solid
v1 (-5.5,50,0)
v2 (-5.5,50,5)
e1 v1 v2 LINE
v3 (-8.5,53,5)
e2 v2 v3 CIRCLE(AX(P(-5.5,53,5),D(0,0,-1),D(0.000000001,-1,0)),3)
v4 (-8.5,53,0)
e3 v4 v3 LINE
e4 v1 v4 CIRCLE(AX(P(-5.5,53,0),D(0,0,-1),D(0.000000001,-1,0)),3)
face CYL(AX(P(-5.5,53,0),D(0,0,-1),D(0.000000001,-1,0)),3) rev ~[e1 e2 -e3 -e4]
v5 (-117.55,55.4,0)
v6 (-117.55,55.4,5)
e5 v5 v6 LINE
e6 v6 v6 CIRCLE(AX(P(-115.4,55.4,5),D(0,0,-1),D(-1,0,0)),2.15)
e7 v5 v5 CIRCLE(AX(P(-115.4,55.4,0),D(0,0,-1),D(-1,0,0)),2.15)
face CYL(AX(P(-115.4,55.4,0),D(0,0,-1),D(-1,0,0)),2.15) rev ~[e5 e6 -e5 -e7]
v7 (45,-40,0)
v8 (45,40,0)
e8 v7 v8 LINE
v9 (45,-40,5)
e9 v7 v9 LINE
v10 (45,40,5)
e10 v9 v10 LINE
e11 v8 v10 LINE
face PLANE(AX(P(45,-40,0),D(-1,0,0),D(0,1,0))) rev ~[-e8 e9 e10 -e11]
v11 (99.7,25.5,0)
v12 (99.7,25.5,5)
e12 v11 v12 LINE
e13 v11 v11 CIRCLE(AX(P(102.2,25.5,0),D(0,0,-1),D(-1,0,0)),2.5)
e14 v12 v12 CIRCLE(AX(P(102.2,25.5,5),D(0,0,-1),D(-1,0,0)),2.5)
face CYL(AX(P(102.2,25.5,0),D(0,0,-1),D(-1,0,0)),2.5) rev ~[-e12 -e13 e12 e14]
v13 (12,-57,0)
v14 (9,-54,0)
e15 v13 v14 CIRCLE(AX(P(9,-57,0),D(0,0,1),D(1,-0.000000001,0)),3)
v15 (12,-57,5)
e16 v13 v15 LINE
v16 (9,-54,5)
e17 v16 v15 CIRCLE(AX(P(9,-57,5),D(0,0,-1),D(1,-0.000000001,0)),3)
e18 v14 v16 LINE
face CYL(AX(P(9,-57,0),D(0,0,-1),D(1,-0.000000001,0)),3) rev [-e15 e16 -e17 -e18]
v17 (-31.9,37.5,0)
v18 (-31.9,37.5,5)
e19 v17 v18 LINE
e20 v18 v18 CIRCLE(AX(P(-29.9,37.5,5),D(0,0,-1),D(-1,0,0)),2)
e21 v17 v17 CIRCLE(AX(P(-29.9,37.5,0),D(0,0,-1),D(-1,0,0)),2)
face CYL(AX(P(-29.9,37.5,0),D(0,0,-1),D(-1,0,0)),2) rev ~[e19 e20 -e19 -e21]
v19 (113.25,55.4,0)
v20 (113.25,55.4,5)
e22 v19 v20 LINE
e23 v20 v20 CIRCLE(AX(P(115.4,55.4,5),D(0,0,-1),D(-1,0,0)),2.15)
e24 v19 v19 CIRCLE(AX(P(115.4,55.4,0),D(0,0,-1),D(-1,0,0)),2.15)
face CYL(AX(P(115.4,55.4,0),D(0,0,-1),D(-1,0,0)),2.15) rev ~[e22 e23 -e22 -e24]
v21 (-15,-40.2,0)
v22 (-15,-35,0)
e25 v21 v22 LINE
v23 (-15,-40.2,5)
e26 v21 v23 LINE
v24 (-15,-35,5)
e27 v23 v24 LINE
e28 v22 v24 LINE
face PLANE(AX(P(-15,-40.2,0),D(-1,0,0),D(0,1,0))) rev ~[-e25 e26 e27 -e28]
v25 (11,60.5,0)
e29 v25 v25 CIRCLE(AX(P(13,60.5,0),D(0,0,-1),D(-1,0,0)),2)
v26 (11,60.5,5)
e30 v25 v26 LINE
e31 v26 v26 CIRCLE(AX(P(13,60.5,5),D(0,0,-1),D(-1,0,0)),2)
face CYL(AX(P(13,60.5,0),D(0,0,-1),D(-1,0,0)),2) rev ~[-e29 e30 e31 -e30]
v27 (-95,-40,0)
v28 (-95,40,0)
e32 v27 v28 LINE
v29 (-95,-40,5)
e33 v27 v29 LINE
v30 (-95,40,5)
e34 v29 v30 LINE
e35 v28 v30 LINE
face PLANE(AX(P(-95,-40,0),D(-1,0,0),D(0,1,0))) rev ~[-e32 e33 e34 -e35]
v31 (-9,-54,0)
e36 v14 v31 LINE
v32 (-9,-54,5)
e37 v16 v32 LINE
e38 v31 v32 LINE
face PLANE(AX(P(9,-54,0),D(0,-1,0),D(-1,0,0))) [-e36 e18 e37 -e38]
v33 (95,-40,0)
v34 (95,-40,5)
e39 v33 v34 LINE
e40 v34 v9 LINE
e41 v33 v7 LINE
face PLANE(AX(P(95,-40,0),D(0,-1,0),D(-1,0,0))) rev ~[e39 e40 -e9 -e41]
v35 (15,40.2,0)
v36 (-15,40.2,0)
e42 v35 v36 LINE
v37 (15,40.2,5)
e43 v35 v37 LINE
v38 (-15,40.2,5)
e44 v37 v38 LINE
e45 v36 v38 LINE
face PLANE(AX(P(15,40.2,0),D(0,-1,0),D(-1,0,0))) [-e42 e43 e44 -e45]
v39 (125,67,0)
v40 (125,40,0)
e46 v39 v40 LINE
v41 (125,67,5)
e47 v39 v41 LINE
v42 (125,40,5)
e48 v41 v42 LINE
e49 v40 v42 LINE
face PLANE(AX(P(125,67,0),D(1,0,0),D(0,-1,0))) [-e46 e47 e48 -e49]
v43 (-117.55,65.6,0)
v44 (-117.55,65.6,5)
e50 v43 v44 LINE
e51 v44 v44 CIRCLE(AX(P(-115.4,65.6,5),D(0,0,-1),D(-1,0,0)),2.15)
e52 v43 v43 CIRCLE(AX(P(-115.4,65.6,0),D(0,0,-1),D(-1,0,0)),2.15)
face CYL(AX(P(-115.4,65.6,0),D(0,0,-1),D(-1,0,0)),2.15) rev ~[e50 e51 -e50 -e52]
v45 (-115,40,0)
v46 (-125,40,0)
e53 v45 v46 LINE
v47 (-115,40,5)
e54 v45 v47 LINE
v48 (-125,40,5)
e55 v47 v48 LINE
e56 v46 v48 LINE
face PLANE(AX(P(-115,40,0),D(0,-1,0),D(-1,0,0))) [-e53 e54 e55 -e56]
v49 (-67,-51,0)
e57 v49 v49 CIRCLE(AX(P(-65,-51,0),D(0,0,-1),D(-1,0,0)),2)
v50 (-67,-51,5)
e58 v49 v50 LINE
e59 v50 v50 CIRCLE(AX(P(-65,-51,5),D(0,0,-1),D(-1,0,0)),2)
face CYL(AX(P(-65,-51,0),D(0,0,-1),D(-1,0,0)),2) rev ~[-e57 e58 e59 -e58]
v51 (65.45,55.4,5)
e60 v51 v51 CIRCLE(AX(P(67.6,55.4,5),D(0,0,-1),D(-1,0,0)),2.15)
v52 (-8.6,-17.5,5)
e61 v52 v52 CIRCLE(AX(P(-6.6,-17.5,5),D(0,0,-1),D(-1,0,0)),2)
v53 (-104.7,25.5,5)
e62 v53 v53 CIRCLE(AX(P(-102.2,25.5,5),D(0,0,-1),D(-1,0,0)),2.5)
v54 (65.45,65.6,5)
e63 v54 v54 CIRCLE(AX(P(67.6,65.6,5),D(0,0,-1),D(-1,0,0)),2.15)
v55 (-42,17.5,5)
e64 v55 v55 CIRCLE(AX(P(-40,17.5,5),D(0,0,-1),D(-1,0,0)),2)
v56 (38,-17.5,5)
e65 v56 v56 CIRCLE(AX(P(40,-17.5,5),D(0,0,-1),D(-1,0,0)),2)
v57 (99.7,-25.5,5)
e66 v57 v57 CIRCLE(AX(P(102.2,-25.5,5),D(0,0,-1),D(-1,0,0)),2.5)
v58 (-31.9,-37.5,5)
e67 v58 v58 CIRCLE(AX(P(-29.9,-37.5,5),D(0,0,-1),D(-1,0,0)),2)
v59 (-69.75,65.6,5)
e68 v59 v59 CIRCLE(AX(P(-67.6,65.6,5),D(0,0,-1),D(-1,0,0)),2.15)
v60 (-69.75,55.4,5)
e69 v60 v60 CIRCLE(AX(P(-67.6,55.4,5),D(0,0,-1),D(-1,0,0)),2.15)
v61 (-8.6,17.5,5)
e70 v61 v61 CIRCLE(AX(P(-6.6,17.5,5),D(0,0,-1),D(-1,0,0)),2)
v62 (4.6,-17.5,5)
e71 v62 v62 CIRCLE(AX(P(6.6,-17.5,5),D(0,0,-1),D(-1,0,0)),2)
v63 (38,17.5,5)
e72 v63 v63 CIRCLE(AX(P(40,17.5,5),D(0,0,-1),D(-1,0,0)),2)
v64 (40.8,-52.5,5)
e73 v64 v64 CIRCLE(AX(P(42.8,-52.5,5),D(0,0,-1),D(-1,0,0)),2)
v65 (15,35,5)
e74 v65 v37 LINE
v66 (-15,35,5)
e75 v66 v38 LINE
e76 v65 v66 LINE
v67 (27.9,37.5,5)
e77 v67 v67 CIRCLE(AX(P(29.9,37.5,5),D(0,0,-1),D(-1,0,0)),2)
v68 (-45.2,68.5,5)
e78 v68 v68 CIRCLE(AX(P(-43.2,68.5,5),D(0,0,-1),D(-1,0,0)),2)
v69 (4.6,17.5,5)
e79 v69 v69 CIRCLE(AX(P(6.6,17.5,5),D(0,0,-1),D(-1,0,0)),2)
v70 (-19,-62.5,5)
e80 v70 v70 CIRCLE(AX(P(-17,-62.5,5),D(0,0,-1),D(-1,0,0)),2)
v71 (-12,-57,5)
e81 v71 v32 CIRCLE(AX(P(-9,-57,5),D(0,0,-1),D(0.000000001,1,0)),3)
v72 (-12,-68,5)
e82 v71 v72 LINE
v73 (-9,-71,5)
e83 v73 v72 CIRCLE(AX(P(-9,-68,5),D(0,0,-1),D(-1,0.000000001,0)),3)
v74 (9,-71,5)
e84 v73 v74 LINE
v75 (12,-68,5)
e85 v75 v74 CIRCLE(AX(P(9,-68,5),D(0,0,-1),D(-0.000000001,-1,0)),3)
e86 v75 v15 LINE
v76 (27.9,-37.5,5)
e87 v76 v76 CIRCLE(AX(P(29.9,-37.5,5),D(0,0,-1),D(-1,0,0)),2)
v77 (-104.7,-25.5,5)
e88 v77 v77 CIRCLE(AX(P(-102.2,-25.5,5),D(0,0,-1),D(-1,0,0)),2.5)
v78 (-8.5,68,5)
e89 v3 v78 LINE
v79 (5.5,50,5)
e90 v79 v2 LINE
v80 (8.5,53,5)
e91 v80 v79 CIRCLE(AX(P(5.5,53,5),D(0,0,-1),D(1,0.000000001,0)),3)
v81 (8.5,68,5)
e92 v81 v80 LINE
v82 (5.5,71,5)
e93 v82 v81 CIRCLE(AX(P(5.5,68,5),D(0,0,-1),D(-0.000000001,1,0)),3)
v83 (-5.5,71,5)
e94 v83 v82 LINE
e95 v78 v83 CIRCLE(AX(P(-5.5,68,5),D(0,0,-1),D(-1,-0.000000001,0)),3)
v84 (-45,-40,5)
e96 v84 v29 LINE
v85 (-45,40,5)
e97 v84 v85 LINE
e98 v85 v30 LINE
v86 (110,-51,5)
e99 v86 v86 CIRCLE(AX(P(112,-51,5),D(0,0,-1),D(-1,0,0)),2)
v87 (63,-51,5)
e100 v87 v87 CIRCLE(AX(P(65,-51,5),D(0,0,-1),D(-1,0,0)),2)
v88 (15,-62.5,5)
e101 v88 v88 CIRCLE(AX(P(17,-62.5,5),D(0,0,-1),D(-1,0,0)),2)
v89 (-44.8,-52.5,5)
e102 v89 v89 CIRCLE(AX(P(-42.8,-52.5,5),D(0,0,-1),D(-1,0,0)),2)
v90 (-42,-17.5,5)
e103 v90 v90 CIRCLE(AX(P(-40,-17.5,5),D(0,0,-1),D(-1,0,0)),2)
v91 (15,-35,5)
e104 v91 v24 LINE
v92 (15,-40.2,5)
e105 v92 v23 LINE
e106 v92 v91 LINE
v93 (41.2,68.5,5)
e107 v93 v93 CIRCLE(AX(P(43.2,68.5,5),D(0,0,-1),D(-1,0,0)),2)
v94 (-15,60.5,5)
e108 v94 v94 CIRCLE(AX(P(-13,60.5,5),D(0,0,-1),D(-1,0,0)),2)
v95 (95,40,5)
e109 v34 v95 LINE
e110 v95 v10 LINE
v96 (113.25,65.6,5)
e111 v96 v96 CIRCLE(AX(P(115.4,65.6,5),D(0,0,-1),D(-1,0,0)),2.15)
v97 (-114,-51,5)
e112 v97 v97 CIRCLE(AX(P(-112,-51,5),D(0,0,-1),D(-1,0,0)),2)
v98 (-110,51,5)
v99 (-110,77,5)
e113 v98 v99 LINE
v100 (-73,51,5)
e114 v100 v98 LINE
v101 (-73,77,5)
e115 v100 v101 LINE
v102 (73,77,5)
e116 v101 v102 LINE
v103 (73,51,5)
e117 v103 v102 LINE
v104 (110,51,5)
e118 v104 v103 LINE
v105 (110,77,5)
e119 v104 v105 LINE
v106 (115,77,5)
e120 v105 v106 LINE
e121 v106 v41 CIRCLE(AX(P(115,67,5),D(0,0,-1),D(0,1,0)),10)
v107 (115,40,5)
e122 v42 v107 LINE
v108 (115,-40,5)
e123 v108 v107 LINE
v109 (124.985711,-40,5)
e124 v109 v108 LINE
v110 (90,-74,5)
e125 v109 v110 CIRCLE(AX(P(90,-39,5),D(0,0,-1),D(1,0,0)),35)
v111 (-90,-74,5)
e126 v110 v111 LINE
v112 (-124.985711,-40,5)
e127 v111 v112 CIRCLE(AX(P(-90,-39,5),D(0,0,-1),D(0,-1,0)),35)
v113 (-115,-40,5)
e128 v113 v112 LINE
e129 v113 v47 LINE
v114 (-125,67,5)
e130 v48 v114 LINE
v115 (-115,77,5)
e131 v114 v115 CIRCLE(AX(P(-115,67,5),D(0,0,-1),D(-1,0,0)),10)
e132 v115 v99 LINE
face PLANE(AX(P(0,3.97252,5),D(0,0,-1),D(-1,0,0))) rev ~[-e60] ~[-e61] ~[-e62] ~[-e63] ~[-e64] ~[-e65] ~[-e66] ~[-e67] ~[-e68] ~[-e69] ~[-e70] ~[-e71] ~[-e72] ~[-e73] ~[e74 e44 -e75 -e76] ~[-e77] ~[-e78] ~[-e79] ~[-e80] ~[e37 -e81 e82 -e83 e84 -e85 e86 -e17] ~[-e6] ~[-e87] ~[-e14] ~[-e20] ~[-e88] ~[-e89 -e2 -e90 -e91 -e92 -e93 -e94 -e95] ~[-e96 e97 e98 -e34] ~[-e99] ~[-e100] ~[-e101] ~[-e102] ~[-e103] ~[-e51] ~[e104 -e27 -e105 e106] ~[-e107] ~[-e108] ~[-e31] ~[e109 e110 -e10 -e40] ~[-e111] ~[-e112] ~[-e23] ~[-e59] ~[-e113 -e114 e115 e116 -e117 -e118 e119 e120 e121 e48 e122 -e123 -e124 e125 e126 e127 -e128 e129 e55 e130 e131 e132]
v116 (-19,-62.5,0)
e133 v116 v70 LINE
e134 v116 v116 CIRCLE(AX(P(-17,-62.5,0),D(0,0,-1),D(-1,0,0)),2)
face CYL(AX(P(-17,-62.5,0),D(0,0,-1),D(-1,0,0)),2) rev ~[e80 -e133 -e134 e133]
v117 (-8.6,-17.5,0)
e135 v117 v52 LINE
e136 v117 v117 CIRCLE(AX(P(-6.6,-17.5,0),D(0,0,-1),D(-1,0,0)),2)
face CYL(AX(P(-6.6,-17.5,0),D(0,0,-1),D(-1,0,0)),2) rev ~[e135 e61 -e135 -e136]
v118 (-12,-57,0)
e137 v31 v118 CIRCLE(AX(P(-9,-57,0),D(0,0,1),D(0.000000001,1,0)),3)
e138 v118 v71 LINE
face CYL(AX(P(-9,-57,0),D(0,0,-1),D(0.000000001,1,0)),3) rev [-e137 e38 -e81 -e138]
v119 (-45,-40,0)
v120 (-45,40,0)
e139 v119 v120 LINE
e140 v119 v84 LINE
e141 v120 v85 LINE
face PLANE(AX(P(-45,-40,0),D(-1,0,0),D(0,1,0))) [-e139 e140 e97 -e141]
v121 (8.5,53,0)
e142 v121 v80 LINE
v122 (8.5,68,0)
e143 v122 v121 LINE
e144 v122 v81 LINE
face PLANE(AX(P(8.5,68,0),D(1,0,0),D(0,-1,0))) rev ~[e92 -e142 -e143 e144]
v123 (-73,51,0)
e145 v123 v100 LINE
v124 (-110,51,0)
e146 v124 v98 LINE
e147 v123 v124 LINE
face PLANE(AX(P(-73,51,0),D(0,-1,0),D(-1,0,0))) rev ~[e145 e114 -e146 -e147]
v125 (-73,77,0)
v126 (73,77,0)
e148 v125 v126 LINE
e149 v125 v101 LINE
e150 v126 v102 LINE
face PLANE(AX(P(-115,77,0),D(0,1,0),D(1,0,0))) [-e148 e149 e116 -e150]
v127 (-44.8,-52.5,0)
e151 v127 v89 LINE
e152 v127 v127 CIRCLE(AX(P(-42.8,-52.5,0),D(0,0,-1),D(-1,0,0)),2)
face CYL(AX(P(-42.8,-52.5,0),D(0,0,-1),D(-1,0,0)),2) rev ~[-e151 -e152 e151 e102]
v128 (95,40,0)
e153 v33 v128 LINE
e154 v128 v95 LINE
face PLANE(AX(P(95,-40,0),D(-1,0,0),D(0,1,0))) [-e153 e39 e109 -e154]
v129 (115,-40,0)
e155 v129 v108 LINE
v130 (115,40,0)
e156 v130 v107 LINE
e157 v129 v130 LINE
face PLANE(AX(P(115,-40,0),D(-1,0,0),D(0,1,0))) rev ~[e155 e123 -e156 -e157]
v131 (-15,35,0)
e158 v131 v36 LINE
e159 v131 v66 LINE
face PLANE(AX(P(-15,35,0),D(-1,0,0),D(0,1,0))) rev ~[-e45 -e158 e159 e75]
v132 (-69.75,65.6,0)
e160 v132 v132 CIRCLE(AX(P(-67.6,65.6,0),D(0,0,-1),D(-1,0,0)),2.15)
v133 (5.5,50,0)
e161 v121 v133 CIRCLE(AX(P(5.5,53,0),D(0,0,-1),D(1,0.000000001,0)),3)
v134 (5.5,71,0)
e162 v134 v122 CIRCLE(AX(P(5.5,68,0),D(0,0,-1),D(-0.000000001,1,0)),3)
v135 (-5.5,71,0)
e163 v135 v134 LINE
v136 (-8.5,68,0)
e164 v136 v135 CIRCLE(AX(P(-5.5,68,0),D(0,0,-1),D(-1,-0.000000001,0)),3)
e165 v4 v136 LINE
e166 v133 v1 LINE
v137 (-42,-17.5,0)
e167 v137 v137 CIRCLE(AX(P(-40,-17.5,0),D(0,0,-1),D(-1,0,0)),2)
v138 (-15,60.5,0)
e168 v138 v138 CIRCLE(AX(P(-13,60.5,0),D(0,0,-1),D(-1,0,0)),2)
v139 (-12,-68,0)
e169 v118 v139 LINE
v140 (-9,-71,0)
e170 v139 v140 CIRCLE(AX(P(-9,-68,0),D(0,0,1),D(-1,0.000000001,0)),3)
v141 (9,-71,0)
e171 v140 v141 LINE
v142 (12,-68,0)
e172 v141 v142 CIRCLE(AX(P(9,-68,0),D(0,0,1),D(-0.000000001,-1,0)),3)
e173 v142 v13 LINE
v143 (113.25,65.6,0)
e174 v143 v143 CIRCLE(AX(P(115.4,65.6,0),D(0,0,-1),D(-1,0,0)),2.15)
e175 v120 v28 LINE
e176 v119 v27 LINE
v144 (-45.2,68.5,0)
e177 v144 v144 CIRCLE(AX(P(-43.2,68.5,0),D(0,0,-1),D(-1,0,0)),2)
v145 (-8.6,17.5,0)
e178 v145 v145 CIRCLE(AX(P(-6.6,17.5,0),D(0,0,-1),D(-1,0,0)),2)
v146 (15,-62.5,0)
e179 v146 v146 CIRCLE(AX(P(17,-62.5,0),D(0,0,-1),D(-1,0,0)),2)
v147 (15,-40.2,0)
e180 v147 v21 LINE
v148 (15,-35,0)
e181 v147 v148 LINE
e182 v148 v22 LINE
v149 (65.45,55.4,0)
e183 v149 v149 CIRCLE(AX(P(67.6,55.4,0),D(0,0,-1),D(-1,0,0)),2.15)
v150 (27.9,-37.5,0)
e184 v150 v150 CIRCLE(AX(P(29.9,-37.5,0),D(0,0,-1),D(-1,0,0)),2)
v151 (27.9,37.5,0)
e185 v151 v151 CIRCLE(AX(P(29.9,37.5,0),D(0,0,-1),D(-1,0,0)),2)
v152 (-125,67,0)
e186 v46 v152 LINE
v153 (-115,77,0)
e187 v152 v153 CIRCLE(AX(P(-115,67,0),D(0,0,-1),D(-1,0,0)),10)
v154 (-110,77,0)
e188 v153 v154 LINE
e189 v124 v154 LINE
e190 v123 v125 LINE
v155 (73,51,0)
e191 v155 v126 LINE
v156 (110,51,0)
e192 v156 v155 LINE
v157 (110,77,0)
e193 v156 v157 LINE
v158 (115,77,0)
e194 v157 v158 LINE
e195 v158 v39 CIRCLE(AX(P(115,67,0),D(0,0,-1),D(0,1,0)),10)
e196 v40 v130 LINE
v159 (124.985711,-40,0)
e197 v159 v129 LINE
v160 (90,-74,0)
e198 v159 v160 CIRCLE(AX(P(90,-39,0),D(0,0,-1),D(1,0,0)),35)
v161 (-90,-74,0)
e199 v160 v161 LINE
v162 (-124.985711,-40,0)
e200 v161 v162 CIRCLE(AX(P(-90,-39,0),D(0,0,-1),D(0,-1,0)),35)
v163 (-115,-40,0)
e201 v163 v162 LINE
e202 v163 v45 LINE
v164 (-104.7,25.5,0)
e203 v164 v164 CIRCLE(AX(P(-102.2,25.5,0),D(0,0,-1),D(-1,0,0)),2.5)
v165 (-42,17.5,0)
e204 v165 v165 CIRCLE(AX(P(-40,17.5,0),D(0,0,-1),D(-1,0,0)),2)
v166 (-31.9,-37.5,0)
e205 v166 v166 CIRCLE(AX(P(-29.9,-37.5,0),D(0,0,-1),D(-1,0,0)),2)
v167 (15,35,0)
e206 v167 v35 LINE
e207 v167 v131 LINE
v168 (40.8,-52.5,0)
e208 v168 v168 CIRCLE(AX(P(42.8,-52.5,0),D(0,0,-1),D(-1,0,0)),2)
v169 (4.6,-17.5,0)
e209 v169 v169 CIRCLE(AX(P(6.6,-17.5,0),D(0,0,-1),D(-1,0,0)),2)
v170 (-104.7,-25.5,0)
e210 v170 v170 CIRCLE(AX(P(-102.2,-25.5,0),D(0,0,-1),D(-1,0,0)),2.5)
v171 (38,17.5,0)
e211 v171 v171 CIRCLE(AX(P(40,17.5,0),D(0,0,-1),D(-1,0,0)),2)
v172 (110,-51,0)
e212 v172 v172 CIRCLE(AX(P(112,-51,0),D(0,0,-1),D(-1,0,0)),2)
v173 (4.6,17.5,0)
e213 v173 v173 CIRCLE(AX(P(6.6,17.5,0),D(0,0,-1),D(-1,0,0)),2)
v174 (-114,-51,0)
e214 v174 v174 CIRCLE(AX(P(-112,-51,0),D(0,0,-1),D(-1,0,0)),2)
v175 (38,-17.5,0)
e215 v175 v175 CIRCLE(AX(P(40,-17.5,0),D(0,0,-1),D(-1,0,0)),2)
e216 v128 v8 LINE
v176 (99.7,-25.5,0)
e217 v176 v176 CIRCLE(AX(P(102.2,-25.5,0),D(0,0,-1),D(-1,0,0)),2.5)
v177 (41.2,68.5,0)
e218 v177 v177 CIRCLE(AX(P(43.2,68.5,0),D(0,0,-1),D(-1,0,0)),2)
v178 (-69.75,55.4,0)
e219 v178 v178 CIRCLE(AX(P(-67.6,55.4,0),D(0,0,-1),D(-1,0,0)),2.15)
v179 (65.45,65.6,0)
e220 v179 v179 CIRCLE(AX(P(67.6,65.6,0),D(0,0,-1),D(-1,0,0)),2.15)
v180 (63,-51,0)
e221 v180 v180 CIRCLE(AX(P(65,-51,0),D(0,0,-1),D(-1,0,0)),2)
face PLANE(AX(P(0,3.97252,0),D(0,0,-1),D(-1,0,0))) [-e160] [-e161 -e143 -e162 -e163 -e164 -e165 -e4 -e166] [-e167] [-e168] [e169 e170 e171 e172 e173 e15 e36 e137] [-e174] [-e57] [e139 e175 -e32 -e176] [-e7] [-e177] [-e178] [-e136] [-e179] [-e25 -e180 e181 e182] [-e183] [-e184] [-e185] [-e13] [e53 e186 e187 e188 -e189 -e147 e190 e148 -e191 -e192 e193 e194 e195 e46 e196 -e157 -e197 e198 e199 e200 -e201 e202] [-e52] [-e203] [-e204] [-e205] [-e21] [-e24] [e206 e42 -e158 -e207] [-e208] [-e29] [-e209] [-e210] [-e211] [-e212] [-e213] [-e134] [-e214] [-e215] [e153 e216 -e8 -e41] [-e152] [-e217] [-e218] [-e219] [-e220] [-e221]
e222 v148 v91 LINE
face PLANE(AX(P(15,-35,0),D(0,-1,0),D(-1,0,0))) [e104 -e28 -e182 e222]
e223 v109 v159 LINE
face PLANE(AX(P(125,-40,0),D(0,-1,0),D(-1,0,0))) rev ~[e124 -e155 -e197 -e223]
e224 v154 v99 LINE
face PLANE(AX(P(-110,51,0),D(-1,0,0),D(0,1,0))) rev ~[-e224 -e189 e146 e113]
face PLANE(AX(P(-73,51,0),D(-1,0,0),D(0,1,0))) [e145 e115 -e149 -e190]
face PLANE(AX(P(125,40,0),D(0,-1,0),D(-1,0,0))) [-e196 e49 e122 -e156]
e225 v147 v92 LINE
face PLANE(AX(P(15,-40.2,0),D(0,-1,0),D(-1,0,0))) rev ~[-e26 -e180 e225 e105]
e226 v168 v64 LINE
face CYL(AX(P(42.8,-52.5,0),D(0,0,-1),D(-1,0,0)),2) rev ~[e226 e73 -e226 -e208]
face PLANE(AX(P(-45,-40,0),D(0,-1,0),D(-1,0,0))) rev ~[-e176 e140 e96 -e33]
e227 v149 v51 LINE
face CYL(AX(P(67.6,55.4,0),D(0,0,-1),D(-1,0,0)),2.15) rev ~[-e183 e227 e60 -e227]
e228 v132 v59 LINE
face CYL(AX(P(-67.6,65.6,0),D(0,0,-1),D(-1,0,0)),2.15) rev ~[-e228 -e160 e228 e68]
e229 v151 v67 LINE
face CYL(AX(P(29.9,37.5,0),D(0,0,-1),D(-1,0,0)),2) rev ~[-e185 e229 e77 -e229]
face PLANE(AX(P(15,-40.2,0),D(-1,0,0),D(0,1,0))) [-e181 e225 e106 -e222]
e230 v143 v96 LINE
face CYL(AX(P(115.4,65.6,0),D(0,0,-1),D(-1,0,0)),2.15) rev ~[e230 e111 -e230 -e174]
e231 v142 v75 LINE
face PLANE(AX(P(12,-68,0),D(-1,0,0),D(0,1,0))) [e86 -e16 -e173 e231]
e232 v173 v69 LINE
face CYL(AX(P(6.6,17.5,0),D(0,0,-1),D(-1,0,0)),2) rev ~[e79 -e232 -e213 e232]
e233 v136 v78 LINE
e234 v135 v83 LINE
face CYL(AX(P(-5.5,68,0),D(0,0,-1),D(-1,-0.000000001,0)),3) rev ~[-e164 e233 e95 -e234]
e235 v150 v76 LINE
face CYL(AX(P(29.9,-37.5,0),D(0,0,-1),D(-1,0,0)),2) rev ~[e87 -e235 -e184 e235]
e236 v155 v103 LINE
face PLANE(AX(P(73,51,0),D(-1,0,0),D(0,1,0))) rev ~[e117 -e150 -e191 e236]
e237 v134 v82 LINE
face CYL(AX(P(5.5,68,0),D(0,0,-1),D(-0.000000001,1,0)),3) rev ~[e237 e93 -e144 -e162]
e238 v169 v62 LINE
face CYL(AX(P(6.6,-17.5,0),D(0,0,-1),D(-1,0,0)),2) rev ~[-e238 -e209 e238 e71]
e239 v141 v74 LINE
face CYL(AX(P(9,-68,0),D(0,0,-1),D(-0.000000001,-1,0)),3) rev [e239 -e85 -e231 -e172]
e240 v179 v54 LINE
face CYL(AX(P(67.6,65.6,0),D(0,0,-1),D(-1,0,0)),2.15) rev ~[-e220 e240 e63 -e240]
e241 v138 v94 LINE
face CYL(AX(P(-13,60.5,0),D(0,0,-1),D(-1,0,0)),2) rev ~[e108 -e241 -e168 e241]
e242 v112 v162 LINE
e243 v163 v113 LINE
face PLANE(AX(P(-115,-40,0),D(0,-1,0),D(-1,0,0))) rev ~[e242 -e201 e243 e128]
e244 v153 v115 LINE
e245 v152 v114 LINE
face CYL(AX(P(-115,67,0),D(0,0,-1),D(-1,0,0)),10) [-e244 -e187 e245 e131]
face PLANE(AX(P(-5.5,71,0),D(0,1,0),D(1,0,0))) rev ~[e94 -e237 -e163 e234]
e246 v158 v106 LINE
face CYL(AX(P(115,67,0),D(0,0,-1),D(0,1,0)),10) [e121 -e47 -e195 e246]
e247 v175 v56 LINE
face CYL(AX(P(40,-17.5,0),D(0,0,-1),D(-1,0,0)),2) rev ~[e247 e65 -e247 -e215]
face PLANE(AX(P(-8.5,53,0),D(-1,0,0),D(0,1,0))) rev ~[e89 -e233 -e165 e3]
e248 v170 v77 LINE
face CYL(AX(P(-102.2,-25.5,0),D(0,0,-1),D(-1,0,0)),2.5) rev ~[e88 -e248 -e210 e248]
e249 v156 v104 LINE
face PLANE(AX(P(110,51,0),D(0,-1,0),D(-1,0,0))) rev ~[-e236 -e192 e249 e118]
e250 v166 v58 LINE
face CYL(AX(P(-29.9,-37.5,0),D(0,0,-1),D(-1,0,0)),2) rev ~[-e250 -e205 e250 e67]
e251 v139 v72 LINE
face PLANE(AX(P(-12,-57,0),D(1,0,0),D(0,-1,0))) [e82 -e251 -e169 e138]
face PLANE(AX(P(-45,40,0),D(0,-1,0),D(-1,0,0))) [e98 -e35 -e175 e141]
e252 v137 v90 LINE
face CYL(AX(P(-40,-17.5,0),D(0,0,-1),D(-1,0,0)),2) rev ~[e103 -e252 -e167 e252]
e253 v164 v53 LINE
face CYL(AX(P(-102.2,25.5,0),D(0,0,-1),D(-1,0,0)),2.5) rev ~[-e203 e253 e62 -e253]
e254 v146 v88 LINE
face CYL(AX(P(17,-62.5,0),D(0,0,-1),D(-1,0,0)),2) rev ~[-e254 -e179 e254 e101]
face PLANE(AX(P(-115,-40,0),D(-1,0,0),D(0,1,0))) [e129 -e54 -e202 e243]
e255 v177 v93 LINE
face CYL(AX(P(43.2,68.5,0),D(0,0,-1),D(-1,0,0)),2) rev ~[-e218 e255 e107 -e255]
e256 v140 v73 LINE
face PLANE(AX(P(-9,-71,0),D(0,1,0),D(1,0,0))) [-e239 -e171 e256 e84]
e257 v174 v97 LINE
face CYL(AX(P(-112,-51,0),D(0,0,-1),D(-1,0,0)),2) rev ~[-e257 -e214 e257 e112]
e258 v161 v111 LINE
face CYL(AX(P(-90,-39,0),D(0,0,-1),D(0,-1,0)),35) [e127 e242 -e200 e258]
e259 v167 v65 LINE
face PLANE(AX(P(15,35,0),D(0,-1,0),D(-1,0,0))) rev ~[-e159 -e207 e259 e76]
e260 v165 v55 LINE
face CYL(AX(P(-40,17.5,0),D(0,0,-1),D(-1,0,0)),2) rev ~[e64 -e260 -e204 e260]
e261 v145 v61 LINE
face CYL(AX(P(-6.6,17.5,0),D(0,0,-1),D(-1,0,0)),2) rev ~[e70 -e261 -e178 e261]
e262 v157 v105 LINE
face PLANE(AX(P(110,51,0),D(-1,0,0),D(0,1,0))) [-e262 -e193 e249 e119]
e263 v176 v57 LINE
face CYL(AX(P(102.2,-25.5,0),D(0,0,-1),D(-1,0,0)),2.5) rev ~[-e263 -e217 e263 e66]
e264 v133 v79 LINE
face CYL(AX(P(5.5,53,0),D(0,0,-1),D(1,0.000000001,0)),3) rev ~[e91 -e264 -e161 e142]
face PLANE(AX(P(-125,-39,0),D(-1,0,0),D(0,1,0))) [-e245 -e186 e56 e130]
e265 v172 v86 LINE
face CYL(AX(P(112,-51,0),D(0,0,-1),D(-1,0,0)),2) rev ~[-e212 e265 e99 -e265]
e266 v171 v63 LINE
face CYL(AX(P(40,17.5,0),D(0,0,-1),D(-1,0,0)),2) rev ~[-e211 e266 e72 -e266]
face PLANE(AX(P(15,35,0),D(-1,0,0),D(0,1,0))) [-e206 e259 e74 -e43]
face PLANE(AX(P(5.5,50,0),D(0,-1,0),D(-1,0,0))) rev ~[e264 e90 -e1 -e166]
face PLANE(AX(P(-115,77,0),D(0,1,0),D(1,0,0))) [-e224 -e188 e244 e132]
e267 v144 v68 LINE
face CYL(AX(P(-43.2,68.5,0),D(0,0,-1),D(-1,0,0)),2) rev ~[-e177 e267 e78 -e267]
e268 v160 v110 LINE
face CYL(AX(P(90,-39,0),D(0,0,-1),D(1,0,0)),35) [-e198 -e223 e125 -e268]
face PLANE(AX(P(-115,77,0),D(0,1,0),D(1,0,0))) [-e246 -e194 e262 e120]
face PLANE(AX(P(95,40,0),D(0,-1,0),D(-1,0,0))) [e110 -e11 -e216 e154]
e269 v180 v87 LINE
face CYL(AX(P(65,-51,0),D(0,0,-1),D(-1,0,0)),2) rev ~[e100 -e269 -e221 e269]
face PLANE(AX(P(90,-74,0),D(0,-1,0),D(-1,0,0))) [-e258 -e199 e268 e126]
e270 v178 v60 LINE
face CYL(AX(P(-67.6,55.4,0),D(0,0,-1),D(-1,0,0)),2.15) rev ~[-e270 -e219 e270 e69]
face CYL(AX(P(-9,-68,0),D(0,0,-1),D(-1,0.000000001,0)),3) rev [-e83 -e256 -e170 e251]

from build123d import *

# Parameters (mm, degrees)
BOSS_EXTRUDE1_DEPTH = 5
SKETCH2_R           = 2
SKETCH2_W           = 10
SKETCH2_H           = 80
SKETCH2_W_2         = 50
SKETCH2_H_2         = 80.000000001
CUT_EXTRUDE1_DEPTH  = 10
SKETCH4_W           = 30
SKETCH4_H           = 5.2
CUT_EXTRUDE3_DEPTH  = 10
SKETCH6_R           = 2.5
CUT_EXTRUDE5_DEPTH  = 10
SKETCH7_R           = 2
CUT_EXTRUDE6_DEPTH  = 10
CUT_EXTRUDE7_DEPTH  = 70
SKETCH10_R          = 2
CUT_EXTRUDE8_DEPTH  = 5
SKETCH11_R          = 2
CUT_EXTRUDE9_DEPTH  = 10
SKETCH16_W          = 37
SKETCH16_H          = 26
CUT_EXTRUDE10_DEPTH = 10
SKETCH17_R          = 2.15
CUT_EXTRUDE11_DEPTH = 10
SKETCH18_R          = 2
CUT_EXTRUDE12_DEPTH = 10
SKETCH24_R          = 2
CUT_EXTRUDE17_DEPTH = 5
SKETCH26_R          = 2
CUT_EXTRUDE18_DEPTH = 10


with BuildPart() as part:
    # Sketch1 → Boss-Extrude1 (new body)
    with BuildSketch(Plane.XY):
        with BuildLine():
            Line((-115, 77), (115, 77))
            ThreePointArc((115, 77), (122.071067812, 74.071067812), (125, 67))
            Line((125, 67), (125, -39))
            ThreePointArc((125, -39), (114.748737342, -63.748737342), (90, -74))
            Line((90, -74), (-90, -74))
            ThreePointArc((-90, -74), (-114.748737342, -63.748737342), (-125, -39))
            Line((-125, -39), (-125, 67))
            ThreePointArc((-125, 67), (-122.071067812, 74.071067812), (-115, 77))
        make_face()
    extrude(amount=BOSS_EXTRUDE1_DEPTH)

    # Sketch2 → Cut-Extrude1 (cut)
    with BuildSketch(Plane(origin=(0, 0, 0), x_dir=(-1, 0, 0), z_dir=(0, 0, -1))):
        with Locations((-6.6, -17.5)):
            Circle(SKETCH2_R)
        with Locations((-6.6, 17.5)):
            Circle(SKETCH2_R)
        with Locations((-40, -17.5)):
            Circle(SKETCH2_R)
        with Locations((-40, 17.5)):
            Circle(SKETCH2_R)
        with Locations((6.6, 17.5)):
            Circle(SKETCH2_R)
        with Locations((6.6, -17.5)):
            Circle(SKETCH2_R)
        with Locations((40, -17.5)):
            Circle(SKETCH2_R)
        with Locations((40, 17.5)):
            Circle(SKETCH2_R)
        with Locations((-120, 0)):
            Rectangle(SKETCH2_W, SKETCH2_H)
        with Locations((-70, -1e-09)):
            Rectangle(SKETCH2_W_2, SKETCH2_H_2)
        with Locations((120, 0)):
            Rectangle(SKETCH2_W, SKETCH2_H)
        with Locations((70, -1e-09)):
            Rectangle(SKETCH2_W_2, SKETCH2_H_2)
    extrude(amount=-CUT_EXTRUDE1_DEPTH, mode=Mode.SUBTRACT)

    # Sketch4 → Cut-Extrude3 (cut)
    with BuildSketch(Plane(origin=(0, 0, 0), x_dir=(-1, 0, 0), z_dir=(0, 0, -1))):
        with Locations((0, 37.6)):
            Rectangle(SKETCH4_W, SKETCH4_H)
        with Locations((0, -37.6)):
            Rectangle(SKETCH4_W, SKETCH4_H)
    extrude(amount=-CUT_EXTRUDE3_DEPTH, mode=Mode.SUBTRACT)

    # Sketch6 → Cut-Extrude5 (cut)
    with BuildSketch(Plane(origin=(0, 0, 0), x_dir=(-1, 0, 0), z_dir=(0, 0, -1))):
        with Locations((-102.2, -25.5)):
            Circle(SKETCH6_R)
        with Locations((-102.2, 25.5)):
            Circle(SKETCH6_R)
        with Locations((102.2, -25.5)):
            Circle(SKETCH6_R)
        with Locations((102.2, 25.5)):
            Circle(SKETCH6_R)
    extrude(amount=-CUT_EXTRUDE5_DEPTH, mode=Mode.SUBTRACT)

    # Sketch7 → Cut-Extrude6 (cut)
    with BuildSketch(Plane(origin=(0, 0, 0), x_dir=(-1, 0, 0), z_dir=(0, 0, -1))):
        with Locations((29.9, 37.5)):
            Circle(SKETCH7_R)
        with Locations((-29.9, -37.5)):
            Circle(SKETCH7_R)
        with Locations((-29.9, 37.5)):
            Circle(SKETCH7_R)
        with Locations((29.9, -37.5)):
            Circle(SKETCH7_R)
    extrude(amount=-CUT_EXTRUDE6_DEPTH, mode=Mode.SUBTRACT)

    # Sketch8 → Cut-Extrude7 (cut)
    with BuildSketch(Plane(origin=(0, 0, 0), x_dir=(-1, 0, 0), z_dir=(0, 0, -1))):
        with BuildLine():
            Line((5.5, 71), (-5.5, 71))
            ThreePointArc((-5.5, 71), (-7.621320344, 70.121320344), (-8.5, 68))
            Line((-8.5, 68), (-8.5, 53))
            ThreePointArc((-8.5, 53), (-7.621320344, 50.878679656), (-5.5, 50))
            Line((-5.5, 50), (5.5, 50))
            ThreePointArc((5.5, 50), (7.621320344, 50.878679656), (8.5, 53))
            Line((8.5, 53), (8.5, 68))
            ThreePointArc((8.5, 68), (7.621320344, 70.121320344), (5.5, 71))
        make_face()
    extrude(amount=-CUT_EXTRUDE7_DEPTH, mode=Mode.SUBTRACT)

    # Sketch10 → Cut-Extrude8 (cut)
    with BuildSketch(Plane(origin=(0, 0, 0), x_dir=(-1, 0, 0), z_dir=(0, 0, -1))):
        with Locations((13, 60.5)):
            Circle(SKETCH10_R)
        with Locations((-13, 60.5)):
            Circle(SKETCH10_R)
    extrude(amount=-CUT_EXTRUDE8_DEPTH, mode=Mode.SUBTRACT)

    # Sketch11 → Cut-Extrude9 (cut)
    with BuildSketch(Plane(origin=(0, 0, 0), x_dir=(-1, 0, 0), z_dir=(0, 0, -1))):
        with Locations((-17, -62.5)):
            Circle(SKETCH11_R)
        with Locations((17, -62.5)):
            Circle(SKETCH11_R)
        with BuildLine():
            Line((-9, -54), (9, -54))
            ThreePointArc((9, -54), (11.121320344, -54.878679656), (12, -57))
            Line((12, -57), (12, -68))
            ThreePointArc((12, -68), (11.121320344, -70.121320344), (9, -71))
            Line((9, -71), (-9, -71))
            ThreePointArc((-9, -71), (-11.121320344, -70.121320344), (-12, -68))
            Line((-12, -68), (-12, -57))
            ThreePointArc((-12, -57), (-11.121320344, -54.878679656), (-9, -54))
        make_face()
    extrude(amount=-CUT_EXTRUDE9_DEPTH, mode=Mode.SUBTRACT)

    # Sketch16 → Cut-Extrude10 (cut)
    with BuildSketch(Plane(origin=(0, 0, 0), x_dir=(-1, 0, 0), z_dir=(0, 0, -1))):
        with Locations((-91.5, 64)):
            Rectangle(SKETCH16_W, SKETCH16_H)
        with Locations((91.5, 64)):
            Rectangle(SKETCH16_W, SKETCH16_H)
    extrude(amount=-CUT_EXTRUDE10_DEPTH, mode=Mode.SUBTRACT)

    # Sketch17 → Cut-Extrude11 (cut)
    with BuildSketch(Plane(origin=(0, 0, 0), x_dir=(-1, 0, 0), z_dir=(0, 0, -1))):
        with Locations((67.6, 65.6)):
            Circle(SKETCH17_R)
        with Locations((67.6, 55.4)):
            Circle(SKETCH17_R)
        with Locations((115.4, 55.4)):
            Circle(SKETCH17_R)
        with Locations((115.4, 65.6)):
            Circle(SKETCH17_R)
        with Locations((-115.4, 65.6)):
            Circle(SKETCH17_R)
        with Locations((-115.4, 55.4)):
            Circle(SKETCH17_R)
        with Locations((-67.6, 55.4)):
            Circle(SKETCH17_R)
        with Locations((-67.6, 65.6)):
            Circle(SKETCH17_R)
    extrude(amount=-CUT_EXTRUDE11_DEPTH, mode=Mode.SUBTRACT)

    # Sketch18 → Cut-Extrude12 (cut)
    with BuildSketch(Plane(origin=(0, 0, 0), x_dir=(-1, 0, 0), z_dir=(0, 0, -1))):
        with Locations((-43.2, 68.5)):
            Circle(SKETCH18_R)
        with Locations((43.2, 68.5)):
            Circle(SKETCH18_R)
    extrude(amount=-CUT_EXTRUDE12_DEPTH, mode=Mode.SUBTRACT)

    # Sketch24 → Cut-Extrude17 (cut)
    with BuildSketch(Plane(origin=(0, 0, 0), x_dir=(-1, 0, 0), z_dir=(0, 0, -1))):
        with Locations((-42.8, -52.5)):
            Circle(SKETCH24_R)
        with Locations((42.8, -52.5)):
            Circle(SKETCH24_R)
    extrude(amount=-CUT_EXTRUDE17_DEPTH, mode=Mode.SUBTRACT)

    # Sketch26 → Cut-Extrude18 (cut)
    with BuildSketch(Plane(origin=(0, 0, 0), x_dir=(-1, 0, 0), z_dir=(0, 0, -1))):
        with Locations((-112, -51)):
            Circle(SKETCH26_R)
        with Locations((-65, -51)):
            Circle(SKETCH26_R)
        with Locations((65, -51)):
            Circle(SKETCH26_R)
        with Locations((112, -51)):
            Circle(SKETCH26_R)
    extrude(amount=-CUT_EXTRUDE18_DEPTH, mode=Mode.SUBTRACT)


solid = part.part
